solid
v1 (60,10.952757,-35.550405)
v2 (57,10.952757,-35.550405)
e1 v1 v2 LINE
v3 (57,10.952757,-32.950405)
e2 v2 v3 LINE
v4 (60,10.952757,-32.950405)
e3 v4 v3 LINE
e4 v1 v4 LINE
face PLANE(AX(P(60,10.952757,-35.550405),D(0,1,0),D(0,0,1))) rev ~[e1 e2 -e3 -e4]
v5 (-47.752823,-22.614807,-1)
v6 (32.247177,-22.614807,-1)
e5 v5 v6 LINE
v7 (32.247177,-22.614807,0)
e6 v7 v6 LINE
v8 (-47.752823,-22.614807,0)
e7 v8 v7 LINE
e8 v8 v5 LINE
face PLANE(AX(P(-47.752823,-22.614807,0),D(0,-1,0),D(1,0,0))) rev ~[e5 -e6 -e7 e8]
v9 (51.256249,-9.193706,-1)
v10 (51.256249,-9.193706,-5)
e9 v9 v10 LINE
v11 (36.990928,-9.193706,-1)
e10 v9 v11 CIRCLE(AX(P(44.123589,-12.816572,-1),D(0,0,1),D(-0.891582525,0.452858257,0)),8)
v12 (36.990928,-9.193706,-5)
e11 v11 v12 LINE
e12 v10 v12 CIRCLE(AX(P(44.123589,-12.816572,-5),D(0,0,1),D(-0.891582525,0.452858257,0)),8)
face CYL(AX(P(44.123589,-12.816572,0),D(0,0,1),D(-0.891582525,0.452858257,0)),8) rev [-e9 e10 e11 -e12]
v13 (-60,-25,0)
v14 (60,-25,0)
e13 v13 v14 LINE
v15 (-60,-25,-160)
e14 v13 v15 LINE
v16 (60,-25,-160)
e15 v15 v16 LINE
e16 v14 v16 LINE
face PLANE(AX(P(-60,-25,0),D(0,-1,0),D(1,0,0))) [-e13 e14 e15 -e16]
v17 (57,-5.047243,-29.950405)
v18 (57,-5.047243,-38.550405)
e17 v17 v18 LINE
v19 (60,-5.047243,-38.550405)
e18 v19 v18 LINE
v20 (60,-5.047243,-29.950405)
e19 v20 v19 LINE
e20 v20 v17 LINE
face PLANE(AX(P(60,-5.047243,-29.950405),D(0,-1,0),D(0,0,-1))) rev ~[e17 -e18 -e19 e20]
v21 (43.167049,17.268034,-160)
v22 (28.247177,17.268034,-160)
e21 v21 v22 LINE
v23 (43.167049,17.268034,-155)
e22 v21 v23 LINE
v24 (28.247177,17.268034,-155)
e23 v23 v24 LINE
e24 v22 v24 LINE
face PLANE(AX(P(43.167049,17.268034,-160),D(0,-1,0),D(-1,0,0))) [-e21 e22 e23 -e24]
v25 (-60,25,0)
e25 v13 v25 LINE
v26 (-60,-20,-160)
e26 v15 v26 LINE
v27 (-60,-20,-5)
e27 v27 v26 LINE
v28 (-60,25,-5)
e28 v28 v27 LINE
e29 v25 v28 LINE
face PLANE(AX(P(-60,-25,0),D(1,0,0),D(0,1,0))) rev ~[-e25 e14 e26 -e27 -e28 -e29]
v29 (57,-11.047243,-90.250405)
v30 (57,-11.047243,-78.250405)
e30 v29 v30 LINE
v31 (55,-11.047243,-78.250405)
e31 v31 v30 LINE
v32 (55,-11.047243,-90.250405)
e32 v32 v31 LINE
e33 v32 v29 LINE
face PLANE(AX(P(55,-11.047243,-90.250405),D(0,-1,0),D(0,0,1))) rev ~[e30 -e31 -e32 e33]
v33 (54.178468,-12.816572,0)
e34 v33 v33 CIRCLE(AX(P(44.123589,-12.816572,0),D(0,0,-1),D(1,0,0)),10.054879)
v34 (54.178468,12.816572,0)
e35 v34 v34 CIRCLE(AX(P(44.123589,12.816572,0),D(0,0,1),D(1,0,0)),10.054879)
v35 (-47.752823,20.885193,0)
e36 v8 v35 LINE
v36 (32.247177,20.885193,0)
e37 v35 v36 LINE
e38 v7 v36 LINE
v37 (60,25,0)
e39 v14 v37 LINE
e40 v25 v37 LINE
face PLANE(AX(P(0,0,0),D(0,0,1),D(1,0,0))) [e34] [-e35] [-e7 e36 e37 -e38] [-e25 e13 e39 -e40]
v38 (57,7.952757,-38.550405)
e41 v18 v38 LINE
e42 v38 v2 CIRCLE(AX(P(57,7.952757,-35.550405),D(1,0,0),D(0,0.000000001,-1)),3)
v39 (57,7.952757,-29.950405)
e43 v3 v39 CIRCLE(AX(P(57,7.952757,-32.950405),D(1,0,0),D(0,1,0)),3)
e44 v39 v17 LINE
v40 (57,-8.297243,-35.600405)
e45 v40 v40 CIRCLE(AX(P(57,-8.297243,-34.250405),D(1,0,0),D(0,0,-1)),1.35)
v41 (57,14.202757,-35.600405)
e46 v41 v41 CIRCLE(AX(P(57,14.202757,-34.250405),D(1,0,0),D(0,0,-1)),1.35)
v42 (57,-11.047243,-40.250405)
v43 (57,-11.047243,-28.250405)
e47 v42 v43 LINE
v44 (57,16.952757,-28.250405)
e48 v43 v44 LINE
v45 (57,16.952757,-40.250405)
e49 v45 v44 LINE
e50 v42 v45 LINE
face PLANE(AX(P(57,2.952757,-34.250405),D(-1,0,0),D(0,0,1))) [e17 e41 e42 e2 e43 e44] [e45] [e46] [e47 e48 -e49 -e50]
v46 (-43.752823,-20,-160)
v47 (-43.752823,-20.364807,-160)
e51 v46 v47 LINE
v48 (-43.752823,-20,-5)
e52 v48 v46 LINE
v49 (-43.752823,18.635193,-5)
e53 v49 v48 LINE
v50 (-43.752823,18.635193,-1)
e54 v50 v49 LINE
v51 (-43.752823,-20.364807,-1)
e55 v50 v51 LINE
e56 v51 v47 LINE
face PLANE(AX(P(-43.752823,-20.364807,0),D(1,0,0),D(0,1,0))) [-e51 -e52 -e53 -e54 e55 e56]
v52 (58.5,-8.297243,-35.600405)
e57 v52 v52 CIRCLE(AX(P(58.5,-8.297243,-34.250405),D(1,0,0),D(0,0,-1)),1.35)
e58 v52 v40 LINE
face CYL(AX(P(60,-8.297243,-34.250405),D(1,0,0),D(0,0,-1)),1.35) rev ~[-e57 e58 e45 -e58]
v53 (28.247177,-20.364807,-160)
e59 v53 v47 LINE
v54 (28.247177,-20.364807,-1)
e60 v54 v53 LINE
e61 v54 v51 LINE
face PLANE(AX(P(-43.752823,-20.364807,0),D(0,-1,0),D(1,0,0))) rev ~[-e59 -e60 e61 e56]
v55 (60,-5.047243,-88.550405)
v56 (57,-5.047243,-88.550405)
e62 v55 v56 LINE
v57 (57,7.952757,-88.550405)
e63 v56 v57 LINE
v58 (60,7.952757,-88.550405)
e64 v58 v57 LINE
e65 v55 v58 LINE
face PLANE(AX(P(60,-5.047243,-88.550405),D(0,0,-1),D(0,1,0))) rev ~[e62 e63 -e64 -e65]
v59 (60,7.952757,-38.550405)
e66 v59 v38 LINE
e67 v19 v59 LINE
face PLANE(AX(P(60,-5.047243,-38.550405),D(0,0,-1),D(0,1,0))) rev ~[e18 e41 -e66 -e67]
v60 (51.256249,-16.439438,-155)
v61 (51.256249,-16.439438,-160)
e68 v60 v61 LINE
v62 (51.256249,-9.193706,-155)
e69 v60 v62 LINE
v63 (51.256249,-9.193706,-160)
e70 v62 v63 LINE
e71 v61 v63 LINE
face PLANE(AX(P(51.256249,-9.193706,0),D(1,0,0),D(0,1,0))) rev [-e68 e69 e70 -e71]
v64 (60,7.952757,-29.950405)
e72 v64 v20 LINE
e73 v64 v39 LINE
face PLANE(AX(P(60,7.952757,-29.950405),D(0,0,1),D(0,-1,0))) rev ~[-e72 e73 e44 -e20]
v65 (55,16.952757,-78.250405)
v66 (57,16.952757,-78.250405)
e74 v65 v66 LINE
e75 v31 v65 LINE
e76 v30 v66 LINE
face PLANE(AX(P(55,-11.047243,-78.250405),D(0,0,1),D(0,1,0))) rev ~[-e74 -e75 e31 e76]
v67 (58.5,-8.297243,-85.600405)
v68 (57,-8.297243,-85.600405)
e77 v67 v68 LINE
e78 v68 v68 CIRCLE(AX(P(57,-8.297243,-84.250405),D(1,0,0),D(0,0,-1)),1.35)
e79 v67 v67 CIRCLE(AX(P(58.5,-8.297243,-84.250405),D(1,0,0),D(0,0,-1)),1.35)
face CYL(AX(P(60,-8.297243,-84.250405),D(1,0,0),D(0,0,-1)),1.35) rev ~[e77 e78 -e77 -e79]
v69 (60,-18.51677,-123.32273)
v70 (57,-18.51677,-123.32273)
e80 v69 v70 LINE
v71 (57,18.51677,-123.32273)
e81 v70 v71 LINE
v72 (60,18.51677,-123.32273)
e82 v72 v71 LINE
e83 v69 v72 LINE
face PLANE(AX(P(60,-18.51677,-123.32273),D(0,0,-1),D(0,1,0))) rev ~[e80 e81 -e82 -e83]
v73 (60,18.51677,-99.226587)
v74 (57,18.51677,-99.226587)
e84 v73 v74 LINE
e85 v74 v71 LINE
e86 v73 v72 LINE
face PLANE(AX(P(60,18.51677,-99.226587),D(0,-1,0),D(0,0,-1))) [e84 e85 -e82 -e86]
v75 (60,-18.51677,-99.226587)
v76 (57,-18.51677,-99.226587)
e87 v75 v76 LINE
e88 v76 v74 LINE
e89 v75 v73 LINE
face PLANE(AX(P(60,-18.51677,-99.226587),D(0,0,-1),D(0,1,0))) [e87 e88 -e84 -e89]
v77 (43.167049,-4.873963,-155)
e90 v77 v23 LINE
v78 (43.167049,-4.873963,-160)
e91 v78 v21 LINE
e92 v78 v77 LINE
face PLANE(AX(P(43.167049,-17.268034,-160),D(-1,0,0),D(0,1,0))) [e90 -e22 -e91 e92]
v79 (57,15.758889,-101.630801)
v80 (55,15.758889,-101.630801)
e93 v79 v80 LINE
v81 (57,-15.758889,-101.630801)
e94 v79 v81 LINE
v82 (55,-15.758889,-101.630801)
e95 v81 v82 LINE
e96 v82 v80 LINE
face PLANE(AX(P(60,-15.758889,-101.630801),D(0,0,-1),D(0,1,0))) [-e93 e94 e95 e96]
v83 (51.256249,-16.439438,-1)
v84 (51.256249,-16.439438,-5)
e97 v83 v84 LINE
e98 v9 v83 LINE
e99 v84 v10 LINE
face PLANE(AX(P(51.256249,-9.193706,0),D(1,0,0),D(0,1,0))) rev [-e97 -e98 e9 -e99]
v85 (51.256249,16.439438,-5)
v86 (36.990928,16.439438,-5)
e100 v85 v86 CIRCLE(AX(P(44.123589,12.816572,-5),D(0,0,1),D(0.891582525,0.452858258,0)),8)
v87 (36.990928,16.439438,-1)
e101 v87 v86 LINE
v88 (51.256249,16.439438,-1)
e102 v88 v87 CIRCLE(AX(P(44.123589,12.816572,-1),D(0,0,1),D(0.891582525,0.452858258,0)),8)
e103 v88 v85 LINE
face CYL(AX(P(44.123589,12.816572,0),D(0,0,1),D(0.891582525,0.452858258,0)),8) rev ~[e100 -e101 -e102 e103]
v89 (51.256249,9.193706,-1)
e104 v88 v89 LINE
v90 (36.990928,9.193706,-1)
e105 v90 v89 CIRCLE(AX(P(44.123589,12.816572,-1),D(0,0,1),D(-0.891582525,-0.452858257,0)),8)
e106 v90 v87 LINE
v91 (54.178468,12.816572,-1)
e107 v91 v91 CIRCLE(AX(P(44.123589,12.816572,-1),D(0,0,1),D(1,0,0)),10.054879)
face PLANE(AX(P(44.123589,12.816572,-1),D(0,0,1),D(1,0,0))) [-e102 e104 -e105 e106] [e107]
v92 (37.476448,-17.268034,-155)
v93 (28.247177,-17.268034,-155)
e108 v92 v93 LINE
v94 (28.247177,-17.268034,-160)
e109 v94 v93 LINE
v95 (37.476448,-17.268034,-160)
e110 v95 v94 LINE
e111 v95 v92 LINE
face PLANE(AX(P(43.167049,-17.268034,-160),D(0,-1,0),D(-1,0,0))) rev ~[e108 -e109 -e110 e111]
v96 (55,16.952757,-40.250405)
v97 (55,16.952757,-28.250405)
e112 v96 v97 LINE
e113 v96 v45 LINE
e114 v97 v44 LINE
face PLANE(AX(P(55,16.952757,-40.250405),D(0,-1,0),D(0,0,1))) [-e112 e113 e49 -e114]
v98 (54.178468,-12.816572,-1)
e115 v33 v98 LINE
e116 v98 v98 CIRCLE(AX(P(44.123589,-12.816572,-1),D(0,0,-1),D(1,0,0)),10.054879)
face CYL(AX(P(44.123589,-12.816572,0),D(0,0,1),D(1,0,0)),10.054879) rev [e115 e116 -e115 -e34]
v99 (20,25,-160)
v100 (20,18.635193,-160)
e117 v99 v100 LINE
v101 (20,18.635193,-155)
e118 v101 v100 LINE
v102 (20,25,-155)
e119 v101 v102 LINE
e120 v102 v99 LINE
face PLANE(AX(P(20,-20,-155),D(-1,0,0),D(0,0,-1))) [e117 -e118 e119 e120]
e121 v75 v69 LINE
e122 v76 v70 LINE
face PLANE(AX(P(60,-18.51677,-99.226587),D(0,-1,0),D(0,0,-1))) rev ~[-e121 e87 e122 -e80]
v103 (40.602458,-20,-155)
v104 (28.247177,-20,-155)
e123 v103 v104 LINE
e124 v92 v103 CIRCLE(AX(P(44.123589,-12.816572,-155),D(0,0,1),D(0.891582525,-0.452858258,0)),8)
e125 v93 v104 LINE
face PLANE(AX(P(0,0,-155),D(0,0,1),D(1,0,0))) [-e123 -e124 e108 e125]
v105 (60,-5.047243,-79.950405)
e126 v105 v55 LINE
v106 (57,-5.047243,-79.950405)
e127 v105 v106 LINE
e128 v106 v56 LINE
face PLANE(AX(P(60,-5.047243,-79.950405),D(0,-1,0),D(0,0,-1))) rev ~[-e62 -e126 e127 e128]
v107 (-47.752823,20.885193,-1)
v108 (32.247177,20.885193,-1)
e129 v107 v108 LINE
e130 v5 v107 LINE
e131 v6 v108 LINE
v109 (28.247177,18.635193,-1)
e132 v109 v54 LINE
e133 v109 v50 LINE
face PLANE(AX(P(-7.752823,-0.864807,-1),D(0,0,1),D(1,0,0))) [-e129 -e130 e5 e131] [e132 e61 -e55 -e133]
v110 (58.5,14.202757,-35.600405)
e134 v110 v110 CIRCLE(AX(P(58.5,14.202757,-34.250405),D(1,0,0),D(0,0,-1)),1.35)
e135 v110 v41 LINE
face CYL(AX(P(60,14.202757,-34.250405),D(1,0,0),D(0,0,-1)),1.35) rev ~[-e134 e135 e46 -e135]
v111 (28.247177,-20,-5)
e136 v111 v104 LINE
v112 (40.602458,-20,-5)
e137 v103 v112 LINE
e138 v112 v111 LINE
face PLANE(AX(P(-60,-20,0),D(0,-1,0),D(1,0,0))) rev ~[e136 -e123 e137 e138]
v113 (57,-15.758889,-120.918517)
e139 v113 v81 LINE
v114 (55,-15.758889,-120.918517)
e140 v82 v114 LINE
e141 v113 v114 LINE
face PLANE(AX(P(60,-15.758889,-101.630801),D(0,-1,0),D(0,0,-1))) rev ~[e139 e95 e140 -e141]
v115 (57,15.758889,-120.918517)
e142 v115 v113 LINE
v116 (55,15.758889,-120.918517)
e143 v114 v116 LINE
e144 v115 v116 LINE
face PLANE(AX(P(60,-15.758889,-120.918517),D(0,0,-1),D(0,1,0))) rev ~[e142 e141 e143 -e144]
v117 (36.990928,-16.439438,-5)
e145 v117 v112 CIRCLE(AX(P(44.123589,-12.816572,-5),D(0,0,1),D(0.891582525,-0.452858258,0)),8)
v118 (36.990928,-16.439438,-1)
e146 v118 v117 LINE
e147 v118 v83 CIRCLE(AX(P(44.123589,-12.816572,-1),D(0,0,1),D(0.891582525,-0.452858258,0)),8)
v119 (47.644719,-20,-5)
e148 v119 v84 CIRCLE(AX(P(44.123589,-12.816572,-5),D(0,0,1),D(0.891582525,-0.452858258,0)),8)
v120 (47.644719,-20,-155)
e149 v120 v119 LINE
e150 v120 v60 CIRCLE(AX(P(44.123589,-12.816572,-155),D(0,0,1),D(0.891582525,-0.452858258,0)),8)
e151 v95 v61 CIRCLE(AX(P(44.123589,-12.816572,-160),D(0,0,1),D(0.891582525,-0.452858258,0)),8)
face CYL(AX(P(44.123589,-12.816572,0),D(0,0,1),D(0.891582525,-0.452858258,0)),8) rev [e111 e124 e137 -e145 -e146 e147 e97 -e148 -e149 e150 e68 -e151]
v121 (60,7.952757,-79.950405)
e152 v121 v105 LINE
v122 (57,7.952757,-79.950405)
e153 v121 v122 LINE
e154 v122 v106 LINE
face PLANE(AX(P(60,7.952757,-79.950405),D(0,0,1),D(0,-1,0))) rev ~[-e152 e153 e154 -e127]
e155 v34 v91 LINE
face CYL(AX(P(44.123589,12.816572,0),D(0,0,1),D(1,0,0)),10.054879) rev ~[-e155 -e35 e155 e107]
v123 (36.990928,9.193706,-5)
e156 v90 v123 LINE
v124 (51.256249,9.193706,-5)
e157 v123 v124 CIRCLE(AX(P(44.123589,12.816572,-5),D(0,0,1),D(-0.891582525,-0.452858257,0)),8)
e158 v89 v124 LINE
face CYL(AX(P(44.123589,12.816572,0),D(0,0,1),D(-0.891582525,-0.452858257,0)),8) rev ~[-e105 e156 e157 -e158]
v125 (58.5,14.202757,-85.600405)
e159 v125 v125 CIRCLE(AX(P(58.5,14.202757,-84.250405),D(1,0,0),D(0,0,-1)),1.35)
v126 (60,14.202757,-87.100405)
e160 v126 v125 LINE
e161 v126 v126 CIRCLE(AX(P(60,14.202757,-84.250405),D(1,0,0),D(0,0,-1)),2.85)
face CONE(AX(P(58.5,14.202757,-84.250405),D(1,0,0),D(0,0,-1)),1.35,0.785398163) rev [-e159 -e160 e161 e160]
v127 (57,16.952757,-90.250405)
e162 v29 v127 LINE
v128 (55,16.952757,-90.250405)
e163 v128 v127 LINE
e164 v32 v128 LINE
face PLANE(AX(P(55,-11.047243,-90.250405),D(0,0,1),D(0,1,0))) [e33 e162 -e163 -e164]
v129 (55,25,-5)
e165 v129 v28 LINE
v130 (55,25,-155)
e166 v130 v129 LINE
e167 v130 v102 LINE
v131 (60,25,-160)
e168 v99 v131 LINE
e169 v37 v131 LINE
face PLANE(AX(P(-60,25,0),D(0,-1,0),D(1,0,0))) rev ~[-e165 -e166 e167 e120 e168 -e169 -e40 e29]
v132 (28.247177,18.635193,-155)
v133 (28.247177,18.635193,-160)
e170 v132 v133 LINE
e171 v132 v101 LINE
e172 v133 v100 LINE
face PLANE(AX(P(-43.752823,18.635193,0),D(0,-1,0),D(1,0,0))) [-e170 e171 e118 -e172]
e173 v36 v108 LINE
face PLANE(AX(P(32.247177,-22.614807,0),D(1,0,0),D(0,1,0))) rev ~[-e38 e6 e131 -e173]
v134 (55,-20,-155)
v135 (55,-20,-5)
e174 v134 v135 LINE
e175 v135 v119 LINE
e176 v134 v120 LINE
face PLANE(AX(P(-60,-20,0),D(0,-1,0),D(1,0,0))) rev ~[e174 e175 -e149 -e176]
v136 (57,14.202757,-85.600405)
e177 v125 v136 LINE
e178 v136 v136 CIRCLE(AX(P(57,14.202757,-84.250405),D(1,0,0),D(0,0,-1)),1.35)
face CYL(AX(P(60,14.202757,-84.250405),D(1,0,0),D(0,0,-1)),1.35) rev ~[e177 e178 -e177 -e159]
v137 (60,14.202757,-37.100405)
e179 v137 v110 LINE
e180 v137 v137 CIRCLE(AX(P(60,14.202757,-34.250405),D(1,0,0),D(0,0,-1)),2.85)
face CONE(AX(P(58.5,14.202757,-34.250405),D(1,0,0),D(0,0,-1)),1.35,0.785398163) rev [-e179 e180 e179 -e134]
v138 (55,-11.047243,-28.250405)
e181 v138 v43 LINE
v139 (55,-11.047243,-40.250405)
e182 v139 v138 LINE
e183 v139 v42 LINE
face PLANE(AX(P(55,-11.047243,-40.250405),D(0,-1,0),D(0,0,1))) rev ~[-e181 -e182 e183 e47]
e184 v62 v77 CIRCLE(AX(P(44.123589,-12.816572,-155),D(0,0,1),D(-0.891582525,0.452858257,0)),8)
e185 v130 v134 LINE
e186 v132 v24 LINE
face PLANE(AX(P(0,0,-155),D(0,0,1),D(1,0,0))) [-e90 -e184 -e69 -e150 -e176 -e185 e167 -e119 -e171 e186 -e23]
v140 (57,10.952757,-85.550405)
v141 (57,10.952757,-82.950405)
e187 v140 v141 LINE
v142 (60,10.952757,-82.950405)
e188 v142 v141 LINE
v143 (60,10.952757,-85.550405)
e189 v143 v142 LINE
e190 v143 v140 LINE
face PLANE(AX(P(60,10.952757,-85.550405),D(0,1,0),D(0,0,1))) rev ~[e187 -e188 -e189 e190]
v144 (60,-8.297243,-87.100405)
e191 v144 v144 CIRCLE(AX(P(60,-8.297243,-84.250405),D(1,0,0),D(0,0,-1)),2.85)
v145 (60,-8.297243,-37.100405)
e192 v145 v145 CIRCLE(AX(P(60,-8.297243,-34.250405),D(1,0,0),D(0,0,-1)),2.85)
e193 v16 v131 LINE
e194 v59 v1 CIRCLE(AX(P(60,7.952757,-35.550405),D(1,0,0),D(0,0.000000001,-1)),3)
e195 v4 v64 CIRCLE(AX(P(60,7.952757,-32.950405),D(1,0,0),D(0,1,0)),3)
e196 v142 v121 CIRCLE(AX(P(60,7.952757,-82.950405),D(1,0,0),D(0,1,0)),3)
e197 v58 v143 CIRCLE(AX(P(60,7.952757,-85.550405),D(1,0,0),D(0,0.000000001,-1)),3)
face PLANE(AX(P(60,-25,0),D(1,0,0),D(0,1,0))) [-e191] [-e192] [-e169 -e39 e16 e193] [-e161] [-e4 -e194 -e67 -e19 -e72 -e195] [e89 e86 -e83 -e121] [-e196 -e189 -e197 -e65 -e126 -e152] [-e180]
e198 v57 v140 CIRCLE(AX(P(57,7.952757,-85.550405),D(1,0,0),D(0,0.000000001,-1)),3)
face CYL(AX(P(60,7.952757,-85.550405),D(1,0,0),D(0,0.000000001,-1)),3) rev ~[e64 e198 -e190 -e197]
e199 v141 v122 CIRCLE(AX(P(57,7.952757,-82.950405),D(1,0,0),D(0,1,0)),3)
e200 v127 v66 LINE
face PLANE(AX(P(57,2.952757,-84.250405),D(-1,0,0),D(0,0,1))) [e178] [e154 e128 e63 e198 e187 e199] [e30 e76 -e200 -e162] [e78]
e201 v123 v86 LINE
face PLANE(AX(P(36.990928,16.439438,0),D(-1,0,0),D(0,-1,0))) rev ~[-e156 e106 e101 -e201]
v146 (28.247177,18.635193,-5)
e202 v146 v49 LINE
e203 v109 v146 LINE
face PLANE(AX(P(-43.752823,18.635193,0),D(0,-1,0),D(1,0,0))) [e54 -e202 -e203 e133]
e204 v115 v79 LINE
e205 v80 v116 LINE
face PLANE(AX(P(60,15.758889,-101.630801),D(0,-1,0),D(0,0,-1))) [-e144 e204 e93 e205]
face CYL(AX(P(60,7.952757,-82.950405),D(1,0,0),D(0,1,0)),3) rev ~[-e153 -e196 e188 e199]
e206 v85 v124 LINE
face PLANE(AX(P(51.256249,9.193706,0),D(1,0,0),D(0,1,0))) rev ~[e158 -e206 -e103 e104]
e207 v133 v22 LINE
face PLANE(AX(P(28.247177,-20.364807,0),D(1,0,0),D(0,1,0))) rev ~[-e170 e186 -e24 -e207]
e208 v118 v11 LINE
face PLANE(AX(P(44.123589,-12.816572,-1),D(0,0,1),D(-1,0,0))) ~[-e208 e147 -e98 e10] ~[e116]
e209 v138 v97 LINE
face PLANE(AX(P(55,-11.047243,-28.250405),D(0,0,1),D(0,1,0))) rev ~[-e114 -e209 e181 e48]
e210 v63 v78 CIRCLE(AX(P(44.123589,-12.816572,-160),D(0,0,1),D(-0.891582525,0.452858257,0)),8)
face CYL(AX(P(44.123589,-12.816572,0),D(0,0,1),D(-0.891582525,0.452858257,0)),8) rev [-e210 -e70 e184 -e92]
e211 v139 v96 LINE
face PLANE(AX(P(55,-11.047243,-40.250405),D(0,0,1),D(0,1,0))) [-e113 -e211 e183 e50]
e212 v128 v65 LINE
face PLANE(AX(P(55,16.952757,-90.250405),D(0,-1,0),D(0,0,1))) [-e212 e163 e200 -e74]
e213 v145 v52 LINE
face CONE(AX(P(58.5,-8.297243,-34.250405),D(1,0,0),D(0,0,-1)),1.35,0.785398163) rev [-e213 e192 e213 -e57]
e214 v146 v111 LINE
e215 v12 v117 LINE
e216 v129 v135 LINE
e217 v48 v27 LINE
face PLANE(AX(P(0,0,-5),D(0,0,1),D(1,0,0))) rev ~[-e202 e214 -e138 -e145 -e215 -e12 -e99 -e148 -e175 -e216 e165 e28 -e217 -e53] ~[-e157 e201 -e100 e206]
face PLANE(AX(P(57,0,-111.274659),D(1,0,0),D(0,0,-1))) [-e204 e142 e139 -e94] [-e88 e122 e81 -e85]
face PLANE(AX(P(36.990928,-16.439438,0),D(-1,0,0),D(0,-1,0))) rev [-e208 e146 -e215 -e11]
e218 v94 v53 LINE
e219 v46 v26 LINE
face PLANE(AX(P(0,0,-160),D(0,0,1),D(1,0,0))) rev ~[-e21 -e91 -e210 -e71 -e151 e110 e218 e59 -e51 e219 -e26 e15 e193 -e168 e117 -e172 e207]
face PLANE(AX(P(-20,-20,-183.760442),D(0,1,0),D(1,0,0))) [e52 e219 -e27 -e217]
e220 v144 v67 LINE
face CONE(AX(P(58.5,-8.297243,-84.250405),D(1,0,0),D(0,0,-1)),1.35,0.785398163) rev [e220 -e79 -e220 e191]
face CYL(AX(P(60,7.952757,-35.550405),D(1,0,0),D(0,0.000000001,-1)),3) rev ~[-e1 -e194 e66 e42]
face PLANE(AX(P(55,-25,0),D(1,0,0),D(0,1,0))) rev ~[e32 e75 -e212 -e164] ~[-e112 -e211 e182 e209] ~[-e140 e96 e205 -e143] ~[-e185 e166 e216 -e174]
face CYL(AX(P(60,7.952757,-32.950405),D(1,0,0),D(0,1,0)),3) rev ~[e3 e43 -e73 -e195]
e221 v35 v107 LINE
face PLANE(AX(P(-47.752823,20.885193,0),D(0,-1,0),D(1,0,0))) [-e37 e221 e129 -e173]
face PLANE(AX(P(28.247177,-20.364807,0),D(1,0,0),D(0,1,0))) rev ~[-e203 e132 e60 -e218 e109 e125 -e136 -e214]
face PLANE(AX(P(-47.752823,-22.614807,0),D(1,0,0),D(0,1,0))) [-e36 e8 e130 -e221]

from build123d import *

# Parameters (mm, degrees)
SKETCH1_W                  = 120
SKETCH1_H                  = 50
BOSS_EXTRUDE1_DEPTH        = 160
SHELL1_T                   = -5
CUT_EXTRUDE2_REACH         = 174.699
SKETCH4_W                  = 72
SKETCH4_H                  = 39
SKETCH5_W                  = 80
SKETCH5_H                  = 43.5
CUT_EXTRUDE3_DEPTH         = 1
CUT_EXTRUDE4_REACH         = 174.699
SKETCH7_R                  = 10.054878977
CUT_EXTRUDE5_DEPTH         = 1
CUT_EXTRUDE6_REACH         = 203.556
SKETCH9_R                  = 1.35
CHAMFER1_SIZE              = 1.5
SKETCH10_W                 = 12
SKETCH10_H                 = 28
CUT_EXTRUDE7_DEPTH         = 2
LPATTERN1_COUNT            = 2
LPATTERN1_PITCH            = 50
CHAMFER1_OF_LPATTERN1_SIZE = 1.5
SKETCH11_W                 = 19.287715199
SKETCH11_H                 = 31.517777442
CUT_EXTRUDE8_DEPTH         = 202.556443707
SKETCH12_W                 = 24.096142941
SKETCH12_H                 = 37.033540034
CUT_EXTRUDE9_DEPTH         = 3
CUT_EXTRUDE10_REACH        = 174.699
SKETCH13_W                 = 24.602100194
SKETCH13_H                 = 34.536068778
SKETCH2_W                  = 80
SKETCH2_H                  = 57.520884572
CUT_EXTRUDE1_DEPTH         = 177.705970471


with BuildPart() as part:
    # Sketch1 → Boss-Extrude1 (new body)
    with BuildSketch(Plane.XY):
        Rectangle(SKETCH1_W, SKETCH1_H)
    extrude(amount=-BOSS_EXTRUDE1_DEPTH)

    # Shell1
    shell1_openings = [part.faces().sort_by_distance(p)[0] for p in [
        (-60, 0, -80),
        (0, 25, -80),
    ]]
    offset(amount=SHELL1_T, openings=shell1_openings, kind=Kind.INTERSECTION)

    # Sketch4 → Cut-Extrude2 (cut, up to next)
    with BuildSketch(Plane.XY, mode=Mode.PRIVATE) as cut_extrude2_sk1:
        with Locations((-7.752822836, -0.864806595)):
            Rectangle(SKETCH4_W, SKETCH4_H)
    cut_extrude2_tool1 = extrude(cut_extrude2_sk1.sketch, amount=-CUT_EXTRUDE2_REACH, mode=Mode.PRIVATE) & part.part
    add(cut_extrude2_tool1.solids().sort_by_distance((-7.752823, -0.864807, 0))[0], mode=Mode.SUBTRACT)

    # Sketch5 → Cut-Extrude3 (cut)
    with BuildSketch(Plane.XY):
        with Locations((-7.752822836, -0.864806595)):
            Rectangle(SKETCH5_W, SKETCH5_H)
    extrude(amount=-CUT_EXTRUDE3_DEPTH, mode=Mode.SUBTRACT)

    # Sketch6 → Cut-Extrude4 (cut, up to next)
    with BuildSketch(Plane.XY, mode=Mode.PRIVATE) as cut_extrude4_sk1:
        with BuildLine():
            Line((51.25624878, 9.193705725), (51.25624878, 16.439437846))
            ThreePointArc((51.25624878, 16.439437846), (44.123588582, 20.816571785), (36.990928383, 16.439437846))
            Line((36.990928383, 16.439437846), (36.990928383, 9.193705725))
            ThreePointArc((36.990928383, 9.193705725), (44.123588582, 4.816571785), (51.25624878, 9.193705725))
        make_face()
    cut_extrude4_tool1 = extrude(cut_extrude4_sk1.sketch, amount=-CUT_EXTRUDE4_REACH, mode=Mode.PRIVATE) & part.part
    cut_extrude4 = cut_extrude4_tool1.solids().sort_by_distance((44.123589, 12.816572, 0))[0]
    add(cut_extrude4, mode=Mode.SUBTRACT)

    # Sketch7 → Cut-Extrude5 (cut)
    with BuildSketch(Plane.XY):
        with Locations((44.123588582, 12.816571785)):
            Circle(SKETCH7_R)
    cut_extrude5 = extrude(amount=-CUT_EXTRUDE5_DEPTH, mode=Mode.SUBTRACT)

    # Mirror1: Cut-Extrude4, Cut-Extrude5 mirrored; each copy of Cut-Extrude4 runs up to whatever stops it at its own place
    mirror1_before = part.part  # the part as the pattern finds it: every copy runs up to it
    mirror1_cut_extrude4_long = extrude(cut_extrude4_sk1.sketch, amount=-CUT_EXTRUDE4_REACH, mode=Mode.PRIVATE)
    mirror1_cut_extrude4_tool = mirror1_cut_extrude4_long.mirror(Plane.ZX) & mirror1_before
    add(mirror1_cut_extrude4_tool.solids().sort_by_distance((44.123589, -12.816572, 0))[0], mode=Mode.SUBTRACT)
    add(cut_extrude5.mirror(Plane.ZX), mode=Mode.SUBTRACT)

    # Sketch9 → Cut-Extrude6 (cut, up to next)
    with BuildSketch(Plane(origin=(60, 0, 0), x_dir=(0, 0, -1), z_dir=(1, 0, 0)), mode=Mode.PRIVATE) as cut_extrude6_sk1:
        with Locations((34.250404533, 14.202757041)):
            Circle(SKETCH9_R)
    cut_extrude6_tool1 = extrude(cut_extrude6_sk1.sketch, amount=-CUT_EXTRUDE6_REACH, mode=Mode.PRIVATE) & part.part
    # Sketch9 → Cut-Extrude6 (cut, up to next)
    with BuildSketch(Plane(origin=(60, 0, 0), x_dir=(0, 0, -1), z_dir=(1, 0, 0)), mode=Mode.PRIVATE) as cut_extrude6_sk2:
        with Locations((34.250404533, -8.297242959)):
            Circle(SKETCH9_R)
    cut_extrude6_tool2 = extrude(cut_extrude6_sk2.sketch, amount=-CUT_EXTRUDE6_REACH, mode=Mode.PRIVATE) & part.part
    # Sketch9 → Cut-Extrude6 (cut, up to next)
    with BuildSketch(Plane(origin=(60, 0, 0), x_dir=(0, 0, -1), z_dir=(1, 0, 0)), mode=Mode.PRIVATE) as cut_extrude6_sk3:
        with BuildLine():
            Line((29.950404533, -5.047242959), (38.550404533, -5.047242959))
            Line((38.550404533, -5.047242959), (38.550404533, 7.952757041))
            ThreePointArc((38.550404533, 7.952757041), (37.671724876, 10.074077384), (35.550404533, 10.952757041))
            Line((35.550404533, 10.952757041), (32.950404533, 10.952757041))
            ThreePointArc((32.950404533, 10.952757041), (30.829084189, 10.074077384), (29.950404533, 7.952757041))
            Line((29.950404533, 7.952757041), (29.950404533, -5.047242959))
        make_face()
    cut_extrude6_tool3 = extrude(cut_extrude6_sk3.sketch, amount=-CUT_EXTRUDE6_REACH, mode=Mode.PRIVATE) & part.part
    cut_extrude6_1 = cut_extrude6_tool1.solids().sort_by_distance((60, 14.202757, -34.250405))[0]
    add(cut_extrude6_1, mode=Mode.SUBTRACT)
    cut_extrude6_2 = cut_extrude6_tool2.solids().sort_by_distance((60, -8.297243, -34.250405))[0]
    add(cut_extrude6_2, mode=Mode.SUBTRACT)
    cut_extrude6_3 = cut_extrude6_tool3.solids().sort_by_distance((60, 2.741042, -34.250405))[0]
    add(cut_extrude6_3, mode=Mode.SUBTRACT)
    cut_extrude6 = cut_extrude6_1 + cut_extrude6_2 + cut_extrude6_3  # Cut-Extrude6 as one shape, for the pattern or mirror that repeats it

    # Chamfer1
    chamfer1_edges = [part.edges().sort_by_distance(p)[0] for p in [
        (60, -8.297242959, -32.900404533),
        (60, 14.202757041, -32.900404533),
    ]]
    chamfer(chamfer1_edges, length=CHAMFER1_SIZE)

    # Sketch10 → Cut-Extrude7 (cut)
    with BuildSketch(Plane.ZY.offset(-55)):
        with Locations((-34.250404533, 2.952757041)):
            Rectangle(SKETCH10_W, SKETCH10_H)
    cut_extrude7 = extrude(amount=-CUT_EXTRUDE7_DEPTH, mode=Mode.SUBTRACT)

    # LPattern1: Cut-Extrude6, Cut-Extrude7 ×2
    with Locations(*[(0, 0, -i * LPATTERN1_PITCH) for i in range(1, LPATTERN1_COUNT)]):
        add(cut_extrude6, mode=Mode.SUBTRACT)
        add(cut_extrude7, mode=Mode.SUBTRACT)

    # Chamfer1 of LPattern1
    chamfer1_of_lpattern1_edges = [part.edges().sort_by_distance(p)[0] for p in [
        (60, -8.297242959, -82.900404533),
        (60, 14.202757041, -82.900404533),
    ]]
    chamfer(chamfer1_of_lpattern1_edges, length=CHAMFER1_OF_LPATTERN1_SIZE)

    # Sketch11 → Cut-Extrude8 (cut, through all)
    with BuildSketch(Plane(origin=(60, 0, 0), x_dir=(0, 0, -1), z_dir=(1, 0, 0))):
        with Locations((111.274658912, 0)):
            Rectangle(SKETCH11_W, SKETCH11_H)
    extrude(amount=-CUT_EXTRUDE8_DEPTH, mode=Mode.SUBTRACT)

    # Sketch12 → Cut-Extrude9 (cut)
    with BuildSketch(Plane(origin=(60, 0, 0), x_dir=(0, 0, -1), z_dir=(1, 0, 0))):
        with Locations((111.274658912, 0)):
            Rectangle(SKETCH12_W, SKETCH12_H)
    extrude(amount=-CUT_EXTRUDE9_DEPTH, mode=Mode.SUBTRACT)

    # Sketch13 → Cut-Extrude10 (cut, up to next)
    with BuildSketch(Plane(origin=(0, 0, -160), x_dir=(-1, 0, 0), z_dir=(0, 0, -1)), mode=Mode.PRIVATE) as cut_extrude10_sk1:
        with Locations((-30.86599902, 0)):
            Rectangle(SKETCH13_W, SKETCH13_H)
    cut_extrude10_tool1 = extrude(cut_extrude10_sk1.sketch, amount=-CUT_EXTRUDE10_REACH, mode=Mode.PRIVATE) & part.part
    add(cut_extrude10_tool1.solids().sort_by_distance((30.865999, 0, -160))[0], mode=Mode.SUBTRACT)

    # Sketch2 → Cut-Extrude1 (cut, through all)
    with BuildSketch(Plane(origin=(0, -20, 0), x_dir=(1, 0, 0), z_dir=(0, 1, 0))):
        with Locations((-20, 183.760442286)):
            Rectangle(SKETCH2_W, SKETCH2_H)
    extrude(amount=CUT_EXTRUDE1_DEPTH, mode=Mode.SUBTRACT)


solid = part.part
